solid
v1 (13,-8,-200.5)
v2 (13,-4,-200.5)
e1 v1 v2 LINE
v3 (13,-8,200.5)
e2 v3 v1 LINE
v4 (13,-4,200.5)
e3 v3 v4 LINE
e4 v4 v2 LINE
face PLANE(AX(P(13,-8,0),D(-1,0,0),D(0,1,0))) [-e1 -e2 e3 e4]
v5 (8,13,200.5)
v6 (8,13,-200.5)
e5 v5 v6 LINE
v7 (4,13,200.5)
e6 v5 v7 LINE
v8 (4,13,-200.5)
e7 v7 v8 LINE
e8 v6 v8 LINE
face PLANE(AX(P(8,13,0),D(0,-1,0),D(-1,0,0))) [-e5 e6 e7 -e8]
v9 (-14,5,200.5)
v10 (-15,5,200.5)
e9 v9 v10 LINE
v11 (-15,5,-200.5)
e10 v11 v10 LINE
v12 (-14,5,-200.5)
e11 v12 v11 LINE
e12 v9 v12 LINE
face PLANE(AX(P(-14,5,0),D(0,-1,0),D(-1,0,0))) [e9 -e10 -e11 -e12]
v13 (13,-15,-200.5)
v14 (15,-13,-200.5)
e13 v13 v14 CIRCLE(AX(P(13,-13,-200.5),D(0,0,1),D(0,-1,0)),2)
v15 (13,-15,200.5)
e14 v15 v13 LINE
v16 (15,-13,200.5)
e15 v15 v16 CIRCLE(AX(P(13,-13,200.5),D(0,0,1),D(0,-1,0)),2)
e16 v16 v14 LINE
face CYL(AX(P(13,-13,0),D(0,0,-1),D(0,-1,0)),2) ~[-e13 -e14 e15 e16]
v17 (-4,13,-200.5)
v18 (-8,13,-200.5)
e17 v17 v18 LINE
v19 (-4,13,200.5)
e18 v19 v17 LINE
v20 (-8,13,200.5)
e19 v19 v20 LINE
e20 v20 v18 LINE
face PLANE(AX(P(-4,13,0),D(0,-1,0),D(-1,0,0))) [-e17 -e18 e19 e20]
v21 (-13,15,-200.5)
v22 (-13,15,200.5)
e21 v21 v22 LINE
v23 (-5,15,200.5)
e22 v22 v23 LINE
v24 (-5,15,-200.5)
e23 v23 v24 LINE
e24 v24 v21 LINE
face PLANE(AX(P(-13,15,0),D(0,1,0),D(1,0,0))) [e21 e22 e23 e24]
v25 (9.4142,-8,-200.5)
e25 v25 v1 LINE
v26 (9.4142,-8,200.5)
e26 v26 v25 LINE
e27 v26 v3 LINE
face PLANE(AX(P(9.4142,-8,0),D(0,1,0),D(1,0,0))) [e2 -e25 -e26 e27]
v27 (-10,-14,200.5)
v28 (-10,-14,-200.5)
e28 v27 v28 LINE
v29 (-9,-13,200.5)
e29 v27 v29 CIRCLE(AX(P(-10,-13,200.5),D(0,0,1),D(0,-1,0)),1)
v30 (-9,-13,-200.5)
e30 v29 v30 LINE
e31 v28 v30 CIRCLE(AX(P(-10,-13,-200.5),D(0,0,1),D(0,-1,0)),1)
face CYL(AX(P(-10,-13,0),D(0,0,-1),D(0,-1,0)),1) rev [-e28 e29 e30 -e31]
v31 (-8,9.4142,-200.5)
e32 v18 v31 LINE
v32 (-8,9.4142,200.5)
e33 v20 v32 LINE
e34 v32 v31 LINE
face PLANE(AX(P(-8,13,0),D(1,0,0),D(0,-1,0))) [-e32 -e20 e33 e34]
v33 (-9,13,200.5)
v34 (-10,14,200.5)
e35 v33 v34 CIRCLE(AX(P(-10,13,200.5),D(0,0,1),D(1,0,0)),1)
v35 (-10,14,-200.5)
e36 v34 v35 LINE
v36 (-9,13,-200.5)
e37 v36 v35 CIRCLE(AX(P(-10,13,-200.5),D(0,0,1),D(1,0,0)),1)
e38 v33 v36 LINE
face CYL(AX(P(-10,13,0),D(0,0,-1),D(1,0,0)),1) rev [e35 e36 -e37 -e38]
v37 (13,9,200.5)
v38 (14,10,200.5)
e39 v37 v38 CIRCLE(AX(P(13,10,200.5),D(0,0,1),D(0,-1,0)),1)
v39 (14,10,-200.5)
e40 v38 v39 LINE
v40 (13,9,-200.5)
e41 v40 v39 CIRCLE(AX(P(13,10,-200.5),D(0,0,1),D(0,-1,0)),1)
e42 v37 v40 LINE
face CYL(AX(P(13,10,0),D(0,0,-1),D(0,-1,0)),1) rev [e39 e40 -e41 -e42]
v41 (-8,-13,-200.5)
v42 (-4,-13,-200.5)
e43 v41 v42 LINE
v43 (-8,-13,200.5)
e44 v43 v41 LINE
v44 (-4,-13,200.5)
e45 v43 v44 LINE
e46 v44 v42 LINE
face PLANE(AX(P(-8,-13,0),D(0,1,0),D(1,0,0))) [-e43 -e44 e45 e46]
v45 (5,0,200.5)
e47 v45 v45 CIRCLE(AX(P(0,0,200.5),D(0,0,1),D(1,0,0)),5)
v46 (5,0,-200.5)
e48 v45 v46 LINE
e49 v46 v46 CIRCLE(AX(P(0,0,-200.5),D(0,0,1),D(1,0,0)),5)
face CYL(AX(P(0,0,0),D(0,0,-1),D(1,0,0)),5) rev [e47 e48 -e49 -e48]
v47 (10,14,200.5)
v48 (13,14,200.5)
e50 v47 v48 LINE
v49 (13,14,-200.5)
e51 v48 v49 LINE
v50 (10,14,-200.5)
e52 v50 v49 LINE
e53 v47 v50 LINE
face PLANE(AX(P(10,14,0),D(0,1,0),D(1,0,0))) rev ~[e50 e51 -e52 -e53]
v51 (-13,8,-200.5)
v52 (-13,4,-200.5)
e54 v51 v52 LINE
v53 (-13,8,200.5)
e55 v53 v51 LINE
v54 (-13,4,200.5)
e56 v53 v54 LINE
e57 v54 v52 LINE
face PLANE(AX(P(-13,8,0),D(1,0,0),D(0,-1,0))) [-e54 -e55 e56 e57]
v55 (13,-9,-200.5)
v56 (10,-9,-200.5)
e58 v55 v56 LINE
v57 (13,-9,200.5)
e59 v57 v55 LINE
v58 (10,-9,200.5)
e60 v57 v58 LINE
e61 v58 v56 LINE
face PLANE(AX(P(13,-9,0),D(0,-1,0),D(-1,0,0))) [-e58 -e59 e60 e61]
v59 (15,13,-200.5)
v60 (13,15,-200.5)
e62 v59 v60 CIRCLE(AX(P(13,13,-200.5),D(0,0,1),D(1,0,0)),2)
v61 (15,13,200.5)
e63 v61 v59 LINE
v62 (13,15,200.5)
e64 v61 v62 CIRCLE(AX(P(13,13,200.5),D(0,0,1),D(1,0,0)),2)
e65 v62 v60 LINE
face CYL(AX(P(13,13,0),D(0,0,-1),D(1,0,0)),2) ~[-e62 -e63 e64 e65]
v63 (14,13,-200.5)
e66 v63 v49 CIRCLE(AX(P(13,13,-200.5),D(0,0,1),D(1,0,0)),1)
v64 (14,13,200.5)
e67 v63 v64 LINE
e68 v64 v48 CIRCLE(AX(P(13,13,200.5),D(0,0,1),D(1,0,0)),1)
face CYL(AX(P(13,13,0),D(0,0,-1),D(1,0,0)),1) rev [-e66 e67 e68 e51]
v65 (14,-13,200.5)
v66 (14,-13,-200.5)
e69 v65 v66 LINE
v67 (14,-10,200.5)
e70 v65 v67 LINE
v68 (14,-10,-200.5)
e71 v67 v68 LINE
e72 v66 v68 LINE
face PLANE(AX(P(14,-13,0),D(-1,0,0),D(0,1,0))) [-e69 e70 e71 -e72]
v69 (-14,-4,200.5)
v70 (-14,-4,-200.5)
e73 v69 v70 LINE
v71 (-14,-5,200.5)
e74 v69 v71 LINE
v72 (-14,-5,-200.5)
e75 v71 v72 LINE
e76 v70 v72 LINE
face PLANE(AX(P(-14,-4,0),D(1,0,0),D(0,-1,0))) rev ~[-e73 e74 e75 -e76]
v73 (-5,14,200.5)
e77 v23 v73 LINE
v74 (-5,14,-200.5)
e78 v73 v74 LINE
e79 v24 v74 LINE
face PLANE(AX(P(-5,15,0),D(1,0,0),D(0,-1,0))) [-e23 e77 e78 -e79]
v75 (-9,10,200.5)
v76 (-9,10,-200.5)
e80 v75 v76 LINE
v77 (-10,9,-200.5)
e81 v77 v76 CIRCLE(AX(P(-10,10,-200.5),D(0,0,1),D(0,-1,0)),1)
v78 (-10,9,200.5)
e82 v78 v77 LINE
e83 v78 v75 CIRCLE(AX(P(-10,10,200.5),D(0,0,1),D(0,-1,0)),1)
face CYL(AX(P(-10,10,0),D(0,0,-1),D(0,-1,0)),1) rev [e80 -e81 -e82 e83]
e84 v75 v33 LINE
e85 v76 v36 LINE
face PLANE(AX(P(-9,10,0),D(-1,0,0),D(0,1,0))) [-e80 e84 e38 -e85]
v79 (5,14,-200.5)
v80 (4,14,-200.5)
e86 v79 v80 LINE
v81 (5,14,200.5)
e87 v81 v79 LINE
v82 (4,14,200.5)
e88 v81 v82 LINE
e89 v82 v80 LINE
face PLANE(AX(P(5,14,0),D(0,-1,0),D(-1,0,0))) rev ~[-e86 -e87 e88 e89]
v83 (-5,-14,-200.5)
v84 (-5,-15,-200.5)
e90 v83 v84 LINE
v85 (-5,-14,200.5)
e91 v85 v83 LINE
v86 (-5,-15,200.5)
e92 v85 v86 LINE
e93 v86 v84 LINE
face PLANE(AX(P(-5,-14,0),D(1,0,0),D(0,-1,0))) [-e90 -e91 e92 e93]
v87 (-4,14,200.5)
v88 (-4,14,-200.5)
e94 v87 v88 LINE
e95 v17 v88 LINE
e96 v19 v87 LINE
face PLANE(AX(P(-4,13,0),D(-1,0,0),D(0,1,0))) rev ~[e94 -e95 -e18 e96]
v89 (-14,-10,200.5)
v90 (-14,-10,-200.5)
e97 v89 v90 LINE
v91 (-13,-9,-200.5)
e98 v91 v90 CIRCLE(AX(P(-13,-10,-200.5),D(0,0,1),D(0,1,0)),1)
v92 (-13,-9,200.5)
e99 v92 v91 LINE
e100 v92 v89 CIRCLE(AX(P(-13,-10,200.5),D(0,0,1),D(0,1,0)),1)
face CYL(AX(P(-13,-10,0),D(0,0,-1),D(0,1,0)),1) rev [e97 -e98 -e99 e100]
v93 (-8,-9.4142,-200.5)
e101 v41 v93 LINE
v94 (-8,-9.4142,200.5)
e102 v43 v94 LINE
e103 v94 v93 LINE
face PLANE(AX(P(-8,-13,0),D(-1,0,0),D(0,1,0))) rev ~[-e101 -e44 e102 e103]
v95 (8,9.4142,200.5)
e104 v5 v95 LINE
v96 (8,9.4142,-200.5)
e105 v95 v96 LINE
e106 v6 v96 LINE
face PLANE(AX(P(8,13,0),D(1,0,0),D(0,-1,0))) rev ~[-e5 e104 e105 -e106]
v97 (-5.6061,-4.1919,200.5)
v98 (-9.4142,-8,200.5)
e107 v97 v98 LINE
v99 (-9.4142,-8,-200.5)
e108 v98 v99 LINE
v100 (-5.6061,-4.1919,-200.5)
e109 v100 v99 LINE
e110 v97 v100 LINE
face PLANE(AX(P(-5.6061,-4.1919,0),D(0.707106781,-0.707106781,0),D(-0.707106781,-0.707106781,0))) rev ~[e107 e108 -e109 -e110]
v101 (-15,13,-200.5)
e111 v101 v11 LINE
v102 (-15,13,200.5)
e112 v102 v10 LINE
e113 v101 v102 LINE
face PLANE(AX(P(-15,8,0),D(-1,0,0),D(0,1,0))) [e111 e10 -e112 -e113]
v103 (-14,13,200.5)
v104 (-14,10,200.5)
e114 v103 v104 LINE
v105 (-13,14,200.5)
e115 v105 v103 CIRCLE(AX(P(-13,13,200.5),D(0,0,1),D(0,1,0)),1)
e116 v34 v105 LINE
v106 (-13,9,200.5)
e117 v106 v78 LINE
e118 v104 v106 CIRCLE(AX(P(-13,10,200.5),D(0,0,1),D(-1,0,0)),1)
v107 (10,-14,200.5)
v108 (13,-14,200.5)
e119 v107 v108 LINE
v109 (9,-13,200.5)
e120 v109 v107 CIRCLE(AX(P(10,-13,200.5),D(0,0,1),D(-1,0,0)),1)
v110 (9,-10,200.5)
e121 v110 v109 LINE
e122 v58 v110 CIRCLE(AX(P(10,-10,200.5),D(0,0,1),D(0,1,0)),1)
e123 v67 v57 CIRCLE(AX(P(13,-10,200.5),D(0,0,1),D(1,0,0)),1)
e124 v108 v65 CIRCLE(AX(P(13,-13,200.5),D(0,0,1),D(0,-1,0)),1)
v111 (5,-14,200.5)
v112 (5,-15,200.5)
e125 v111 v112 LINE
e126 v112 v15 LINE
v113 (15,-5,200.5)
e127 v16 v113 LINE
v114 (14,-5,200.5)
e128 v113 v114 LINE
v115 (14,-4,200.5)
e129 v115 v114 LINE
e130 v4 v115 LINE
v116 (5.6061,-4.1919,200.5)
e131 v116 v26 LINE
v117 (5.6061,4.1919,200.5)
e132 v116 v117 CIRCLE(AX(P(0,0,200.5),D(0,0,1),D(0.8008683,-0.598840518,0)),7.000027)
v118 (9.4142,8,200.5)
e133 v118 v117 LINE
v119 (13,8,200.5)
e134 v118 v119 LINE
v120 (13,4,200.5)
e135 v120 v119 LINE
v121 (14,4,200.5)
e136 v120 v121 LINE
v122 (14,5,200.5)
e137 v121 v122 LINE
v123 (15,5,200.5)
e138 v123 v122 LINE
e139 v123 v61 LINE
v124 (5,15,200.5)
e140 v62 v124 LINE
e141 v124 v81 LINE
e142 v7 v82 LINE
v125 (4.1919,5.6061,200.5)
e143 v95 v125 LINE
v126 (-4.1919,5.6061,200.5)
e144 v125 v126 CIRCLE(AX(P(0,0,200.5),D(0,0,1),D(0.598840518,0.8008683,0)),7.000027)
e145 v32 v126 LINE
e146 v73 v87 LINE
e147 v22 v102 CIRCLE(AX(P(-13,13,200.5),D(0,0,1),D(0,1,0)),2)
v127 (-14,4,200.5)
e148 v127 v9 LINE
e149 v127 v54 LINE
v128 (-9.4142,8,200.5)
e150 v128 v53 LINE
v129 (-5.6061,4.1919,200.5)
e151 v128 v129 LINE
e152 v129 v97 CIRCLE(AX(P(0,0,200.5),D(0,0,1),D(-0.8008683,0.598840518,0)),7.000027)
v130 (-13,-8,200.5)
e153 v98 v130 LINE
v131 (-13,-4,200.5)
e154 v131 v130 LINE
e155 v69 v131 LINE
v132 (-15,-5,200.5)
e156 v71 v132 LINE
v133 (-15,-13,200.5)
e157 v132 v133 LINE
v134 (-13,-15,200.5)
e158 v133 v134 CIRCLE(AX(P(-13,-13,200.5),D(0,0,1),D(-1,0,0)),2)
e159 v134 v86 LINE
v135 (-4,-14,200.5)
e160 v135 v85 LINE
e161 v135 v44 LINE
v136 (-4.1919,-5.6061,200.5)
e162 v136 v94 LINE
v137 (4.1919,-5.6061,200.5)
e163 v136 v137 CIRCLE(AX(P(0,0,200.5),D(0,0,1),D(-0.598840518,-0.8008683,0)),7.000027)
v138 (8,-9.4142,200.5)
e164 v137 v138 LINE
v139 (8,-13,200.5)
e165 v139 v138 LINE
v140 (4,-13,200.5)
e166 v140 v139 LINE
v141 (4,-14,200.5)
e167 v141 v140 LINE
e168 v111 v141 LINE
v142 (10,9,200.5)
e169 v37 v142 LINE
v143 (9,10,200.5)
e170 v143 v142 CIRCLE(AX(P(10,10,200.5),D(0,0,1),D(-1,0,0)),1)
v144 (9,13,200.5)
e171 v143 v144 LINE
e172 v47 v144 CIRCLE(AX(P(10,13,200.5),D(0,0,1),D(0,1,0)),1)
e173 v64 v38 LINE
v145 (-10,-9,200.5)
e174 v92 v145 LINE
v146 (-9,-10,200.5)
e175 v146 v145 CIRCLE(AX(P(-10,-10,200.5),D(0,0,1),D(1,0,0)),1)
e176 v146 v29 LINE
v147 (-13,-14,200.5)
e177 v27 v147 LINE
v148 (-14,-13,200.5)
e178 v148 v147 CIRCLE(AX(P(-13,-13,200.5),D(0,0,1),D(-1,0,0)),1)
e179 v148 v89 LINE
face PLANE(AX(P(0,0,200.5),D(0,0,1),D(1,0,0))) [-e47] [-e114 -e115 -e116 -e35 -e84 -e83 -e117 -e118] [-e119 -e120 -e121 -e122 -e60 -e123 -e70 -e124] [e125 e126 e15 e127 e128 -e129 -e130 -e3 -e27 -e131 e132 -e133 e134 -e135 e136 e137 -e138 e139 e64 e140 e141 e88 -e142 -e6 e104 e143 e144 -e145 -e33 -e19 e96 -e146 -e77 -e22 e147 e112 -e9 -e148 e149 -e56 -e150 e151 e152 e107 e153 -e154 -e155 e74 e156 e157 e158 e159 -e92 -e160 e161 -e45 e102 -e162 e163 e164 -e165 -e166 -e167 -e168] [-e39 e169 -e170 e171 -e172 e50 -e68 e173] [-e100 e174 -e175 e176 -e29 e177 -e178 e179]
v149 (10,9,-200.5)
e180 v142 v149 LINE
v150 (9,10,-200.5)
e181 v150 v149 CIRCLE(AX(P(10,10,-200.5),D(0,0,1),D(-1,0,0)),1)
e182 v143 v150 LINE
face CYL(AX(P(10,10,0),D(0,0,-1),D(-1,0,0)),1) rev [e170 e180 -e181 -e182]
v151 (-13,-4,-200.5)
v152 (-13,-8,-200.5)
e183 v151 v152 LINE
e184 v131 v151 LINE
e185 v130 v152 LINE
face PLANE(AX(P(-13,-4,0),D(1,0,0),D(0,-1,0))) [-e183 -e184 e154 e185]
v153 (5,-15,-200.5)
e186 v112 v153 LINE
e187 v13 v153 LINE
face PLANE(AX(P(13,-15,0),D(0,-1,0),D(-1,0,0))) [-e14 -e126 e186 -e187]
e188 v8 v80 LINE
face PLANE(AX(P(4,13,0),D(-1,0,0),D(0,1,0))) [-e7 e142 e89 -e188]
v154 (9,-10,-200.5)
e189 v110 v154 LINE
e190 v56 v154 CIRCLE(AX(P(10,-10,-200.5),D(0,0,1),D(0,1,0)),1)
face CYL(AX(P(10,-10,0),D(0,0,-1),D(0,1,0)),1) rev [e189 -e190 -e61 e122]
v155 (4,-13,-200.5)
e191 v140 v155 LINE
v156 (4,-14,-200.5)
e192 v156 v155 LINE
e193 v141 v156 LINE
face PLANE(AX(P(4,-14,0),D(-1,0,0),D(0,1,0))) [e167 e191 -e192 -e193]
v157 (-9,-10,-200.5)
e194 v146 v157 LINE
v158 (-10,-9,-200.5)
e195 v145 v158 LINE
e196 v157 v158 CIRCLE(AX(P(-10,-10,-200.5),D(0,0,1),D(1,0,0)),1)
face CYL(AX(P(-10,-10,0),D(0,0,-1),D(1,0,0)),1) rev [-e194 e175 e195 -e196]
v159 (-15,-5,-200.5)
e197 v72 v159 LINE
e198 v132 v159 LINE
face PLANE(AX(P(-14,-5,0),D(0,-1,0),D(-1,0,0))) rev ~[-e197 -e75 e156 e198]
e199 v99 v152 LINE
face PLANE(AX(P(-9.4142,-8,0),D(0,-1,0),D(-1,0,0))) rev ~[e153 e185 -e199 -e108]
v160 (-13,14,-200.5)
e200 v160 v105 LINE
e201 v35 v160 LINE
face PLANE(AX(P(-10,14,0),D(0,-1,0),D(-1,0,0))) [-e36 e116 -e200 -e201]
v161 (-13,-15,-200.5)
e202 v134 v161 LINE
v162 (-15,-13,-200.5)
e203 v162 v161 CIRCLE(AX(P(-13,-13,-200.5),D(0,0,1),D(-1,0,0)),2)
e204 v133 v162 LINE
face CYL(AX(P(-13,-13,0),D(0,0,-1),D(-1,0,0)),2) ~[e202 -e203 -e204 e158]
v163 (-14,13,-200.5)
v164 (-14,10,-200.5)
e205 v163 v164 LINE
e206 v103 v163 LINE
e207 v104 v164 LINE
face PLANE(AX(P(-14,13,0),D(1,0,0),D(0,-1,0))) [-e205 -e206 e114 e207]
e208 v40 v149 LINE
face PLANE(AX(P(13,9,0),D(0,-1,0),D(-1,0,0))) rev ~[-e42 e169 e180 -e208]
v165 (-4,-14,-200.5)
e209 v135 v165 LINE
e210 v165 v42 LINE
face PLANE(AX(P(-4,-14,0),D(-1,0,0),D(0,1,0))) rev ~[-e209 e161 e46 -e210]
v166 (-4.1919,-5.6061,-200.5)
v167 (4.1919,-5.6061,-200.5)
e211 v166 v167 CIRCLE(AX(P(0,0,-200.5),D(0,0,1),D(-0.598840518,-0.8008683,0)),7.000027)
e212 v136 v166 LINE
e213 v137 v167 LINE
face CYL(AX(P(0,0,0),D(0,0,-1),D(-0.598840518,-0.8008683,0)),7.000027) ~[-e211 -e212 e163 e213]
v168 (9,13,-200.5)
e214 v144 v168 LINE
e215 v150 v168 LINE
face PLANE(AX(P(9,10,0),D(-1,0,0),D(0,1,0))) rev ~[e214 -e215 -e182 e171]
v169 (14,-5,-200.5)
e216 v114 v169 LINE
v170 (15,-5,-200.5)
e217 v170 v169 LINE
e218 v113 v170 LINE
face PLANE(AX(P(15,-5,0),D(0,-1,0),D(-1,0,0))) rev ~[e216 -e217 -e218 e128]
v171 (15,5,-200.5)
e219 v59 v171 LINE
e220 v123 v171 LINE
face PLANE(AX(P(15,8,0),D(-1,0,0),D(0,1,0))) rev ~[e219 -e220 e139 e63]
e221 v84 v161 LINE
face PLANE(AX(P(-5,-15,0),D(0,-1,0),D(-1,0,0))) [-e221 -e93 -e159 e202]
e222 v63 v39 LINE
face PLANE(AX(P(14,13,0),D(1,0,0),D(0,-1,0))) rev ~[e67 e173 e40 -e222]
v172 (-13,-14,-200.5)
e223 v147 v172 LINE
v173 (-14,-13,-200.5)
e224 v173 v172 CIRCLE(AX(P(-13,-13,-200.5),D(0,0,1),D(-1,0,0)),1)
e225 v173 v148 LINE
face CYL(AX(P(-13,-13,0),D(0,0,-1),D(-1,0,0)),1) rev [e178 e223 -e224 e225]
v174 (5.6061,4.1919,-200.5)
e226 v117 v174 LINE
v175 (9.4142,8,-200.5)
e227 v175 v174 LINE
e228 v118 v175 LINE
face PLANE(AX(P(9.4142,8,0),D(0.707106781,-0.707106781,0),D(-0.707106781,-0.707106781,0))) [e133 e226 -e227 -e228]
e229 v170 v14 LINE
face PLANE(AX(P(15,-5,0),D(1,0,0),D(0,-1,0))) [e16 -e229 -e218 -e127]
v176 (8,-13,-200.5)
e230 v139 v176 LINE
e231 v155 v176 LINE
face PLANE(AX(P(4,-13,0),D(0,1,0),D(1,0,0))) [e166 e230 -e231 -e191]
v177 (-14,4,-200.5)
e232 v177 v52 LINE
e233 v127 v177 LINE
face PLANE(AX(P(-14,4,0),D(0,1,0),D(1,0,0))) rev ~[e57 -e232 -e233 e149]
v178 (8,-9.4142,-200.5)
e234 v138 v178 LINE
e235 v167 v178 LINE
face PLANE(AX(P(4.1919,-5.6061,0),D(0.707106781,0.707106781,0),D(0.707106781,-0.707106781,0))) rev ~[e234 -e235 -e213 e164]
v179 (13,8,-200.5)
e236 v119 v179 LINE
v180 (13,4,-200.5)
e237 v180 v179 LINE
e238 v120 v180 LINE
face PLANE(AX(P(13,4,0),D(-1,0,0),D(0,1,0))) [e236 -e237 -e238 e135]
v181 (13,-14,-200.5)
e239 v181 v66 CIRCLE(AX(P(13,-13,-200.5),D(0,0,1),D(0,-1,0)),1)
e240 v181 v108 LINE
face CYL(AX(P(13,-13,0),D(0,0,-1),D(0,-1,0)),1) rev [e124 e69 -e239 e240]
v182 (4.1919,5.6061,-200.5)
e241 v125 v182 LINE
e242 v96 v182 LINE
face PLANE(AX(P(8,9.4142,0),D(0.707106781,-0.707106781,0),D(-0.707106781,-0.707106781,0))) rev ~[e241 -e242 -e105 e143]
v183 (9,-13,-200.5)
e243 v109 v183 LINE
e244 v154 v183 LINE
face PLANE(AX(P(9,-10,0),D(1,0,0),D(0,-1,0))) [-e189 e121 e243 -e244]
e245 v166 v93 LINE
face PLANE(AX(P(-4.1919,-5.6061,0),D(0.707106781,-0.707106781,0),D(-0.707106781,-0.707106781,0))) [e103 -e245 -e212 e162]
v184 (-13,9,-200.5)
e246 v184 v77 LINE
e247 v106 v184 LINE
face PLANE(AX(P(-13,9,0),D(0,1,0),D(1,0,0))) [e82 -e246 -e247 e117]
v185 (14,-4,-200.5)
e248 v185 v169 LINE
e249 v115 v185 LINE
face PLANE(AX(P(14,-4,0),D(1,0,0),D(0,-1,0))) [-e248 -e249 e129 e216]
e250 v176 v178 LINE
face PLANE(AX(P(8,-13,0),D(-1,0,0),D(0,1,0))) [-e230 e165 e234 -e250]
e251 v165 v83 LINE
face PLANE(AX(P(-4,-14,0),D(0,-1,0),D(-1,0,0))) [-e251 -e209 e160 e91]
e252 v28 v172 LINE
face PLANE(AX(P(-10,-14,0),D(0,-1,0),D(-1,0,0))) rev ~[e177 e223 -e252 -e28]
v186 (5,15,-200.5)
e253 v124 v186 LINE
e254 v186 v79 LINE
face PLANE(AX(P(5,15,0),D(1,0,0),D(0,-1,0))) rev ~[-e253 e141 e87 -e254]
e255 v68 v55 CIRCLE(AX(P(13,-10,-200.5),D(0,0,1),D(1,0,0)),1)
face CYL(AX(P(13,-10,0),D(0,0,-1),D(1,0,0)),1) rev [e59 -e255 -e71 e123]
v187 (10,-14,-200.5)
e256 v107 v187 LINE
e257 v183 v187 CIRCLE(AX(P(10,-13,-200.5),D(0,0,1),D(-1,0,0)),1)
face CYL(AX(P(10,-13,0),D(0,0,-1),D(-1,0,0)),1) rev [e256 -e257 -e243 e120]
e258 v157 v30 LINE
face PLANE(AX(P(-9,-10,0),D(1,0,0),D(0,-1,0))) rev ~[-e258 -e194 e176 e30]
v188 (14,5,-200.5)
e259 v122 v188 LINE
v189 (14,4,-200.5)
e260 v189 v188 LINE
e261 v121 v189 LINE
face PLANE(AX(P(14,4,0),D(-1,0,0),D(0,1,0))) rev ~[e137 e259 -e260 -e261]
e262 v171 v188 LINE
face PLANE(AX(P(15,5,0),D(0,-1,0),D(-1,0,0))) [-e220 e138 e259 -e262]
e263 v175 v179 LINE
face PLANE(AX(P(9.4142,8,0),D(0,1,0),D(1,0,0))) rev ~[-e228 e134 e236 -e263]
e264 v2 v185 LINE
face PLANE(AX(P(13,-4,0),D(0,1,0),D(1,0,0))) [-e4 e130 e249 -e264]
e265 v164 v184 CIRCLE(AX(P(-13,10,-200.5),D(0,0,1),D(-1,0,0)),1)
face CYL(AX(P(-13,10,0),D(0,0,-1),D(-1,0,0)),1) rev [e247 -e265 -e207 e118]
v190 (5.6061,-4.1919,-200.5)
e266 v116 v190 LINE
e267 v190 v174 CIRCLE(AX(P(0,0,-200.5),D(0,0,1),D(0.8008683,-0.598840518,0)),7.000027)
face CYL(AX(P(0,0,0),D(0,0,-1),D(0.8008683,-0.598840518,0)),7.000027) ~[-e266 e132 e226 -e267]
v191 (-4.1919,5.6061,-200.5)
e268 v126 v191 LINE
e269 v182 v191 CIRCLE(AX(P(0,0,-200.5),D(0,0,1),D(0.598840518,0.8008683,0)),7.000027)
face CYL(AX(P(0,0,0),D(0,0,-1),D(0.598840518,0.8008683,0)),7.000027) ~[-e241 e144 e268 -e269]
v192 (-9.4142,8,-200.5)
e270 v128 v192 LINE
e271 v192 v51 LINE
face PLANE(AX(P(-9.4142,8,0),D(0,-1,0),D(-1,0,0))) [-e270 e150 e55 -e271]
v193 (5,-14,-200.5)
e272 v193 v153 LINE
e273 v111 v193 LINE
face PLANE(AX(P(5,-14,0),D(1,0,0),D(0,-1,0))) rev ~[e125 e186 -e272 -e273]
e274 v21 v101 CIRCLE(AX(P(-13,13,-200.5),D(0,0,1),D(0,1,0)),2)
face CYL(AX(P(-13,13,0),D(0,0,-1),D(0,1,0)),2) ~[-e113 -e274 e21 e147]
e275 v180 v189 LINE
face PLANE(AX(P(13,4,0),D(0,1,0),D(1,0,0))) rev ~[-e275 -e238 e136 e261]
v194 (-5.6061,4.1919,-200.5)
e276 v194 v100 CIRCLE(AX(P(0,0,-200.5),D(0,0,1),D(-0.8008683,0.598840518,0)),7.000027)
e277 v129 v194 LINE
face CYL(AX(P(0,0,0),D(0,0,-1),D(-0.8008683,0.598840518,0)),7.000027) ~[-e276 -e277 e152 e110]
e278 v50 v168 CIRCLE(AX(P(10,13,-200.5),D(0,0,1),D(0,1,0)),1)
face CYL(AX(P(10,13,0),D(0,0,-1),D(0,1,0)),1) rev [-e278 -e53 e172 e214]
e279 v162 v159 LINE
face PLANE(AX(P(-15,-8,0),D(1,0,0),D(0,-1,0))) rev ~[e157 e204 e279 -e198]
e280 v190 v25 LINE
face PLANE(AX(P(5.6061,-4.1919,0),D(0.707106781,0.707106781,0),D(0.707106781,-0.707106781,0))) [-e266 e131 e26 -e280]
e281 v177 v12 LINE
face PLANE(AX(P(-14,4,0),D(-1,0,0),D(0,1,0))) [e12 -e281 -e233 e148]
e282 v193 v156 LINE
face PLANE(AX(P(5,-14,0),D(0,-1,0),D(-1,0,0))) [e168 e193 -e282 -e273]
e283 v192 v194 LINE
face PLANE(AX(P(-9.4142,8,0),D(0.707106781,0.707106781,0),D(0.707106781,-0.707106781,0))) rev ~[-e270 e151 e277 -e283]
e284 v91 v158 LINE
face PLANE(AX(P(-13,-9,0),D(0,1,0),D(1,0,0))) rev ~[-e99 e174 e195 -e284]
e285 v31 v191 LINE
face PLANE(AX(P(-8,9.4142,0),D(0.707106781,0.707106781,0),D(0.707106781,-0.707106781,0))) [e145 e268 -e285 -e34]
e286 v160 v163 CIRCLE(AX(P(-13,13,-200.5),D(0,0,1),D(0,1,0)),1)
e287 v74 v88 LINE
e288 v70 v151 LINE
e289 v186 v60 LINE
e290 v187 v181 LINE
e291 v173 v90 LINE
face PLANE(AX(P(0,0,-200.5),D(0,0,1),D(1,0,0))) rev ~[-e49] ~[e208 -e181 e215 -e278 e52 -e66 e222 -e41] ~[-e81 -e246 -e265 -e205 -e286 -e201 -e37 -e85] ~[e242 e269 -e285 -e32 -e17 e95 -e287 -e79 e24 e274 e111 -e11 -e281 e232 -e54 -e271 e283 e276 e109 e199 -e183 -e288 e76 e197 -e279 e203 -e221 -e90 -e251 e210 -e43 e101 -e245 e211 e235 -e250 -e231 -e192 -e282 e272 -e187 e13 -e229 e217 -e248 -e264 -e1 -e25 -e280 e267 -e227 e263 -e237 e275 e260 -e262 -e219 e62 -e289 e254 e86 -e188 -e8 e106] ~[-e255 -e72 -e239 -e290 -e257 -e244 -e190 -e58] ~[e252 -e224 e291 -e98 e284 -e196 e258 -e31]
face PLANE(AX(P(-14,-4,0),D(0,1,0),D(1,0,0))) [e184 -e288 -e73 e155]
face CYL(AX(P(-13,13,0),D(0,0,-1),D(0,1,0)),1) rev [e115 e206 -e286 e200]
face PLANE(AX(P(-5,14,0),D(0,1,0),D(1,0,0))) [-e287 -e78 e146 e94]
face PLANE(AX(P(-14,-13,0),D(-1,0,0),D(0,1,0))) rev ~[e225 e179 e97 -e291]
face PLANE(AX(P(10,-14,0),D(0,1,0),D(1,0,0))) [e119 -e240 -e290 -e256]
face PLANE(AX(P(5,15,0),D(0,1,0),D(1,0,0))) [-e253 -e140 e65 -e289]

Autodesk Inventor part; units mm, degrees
ref_plane "YZ Plane" through (0, 0, 0) normal (1, 0, 0) x (0, 1, 0)
ref_plane "XZ Plane" through (0, 0, 0) normal (0, 1, 0) x (-1, 0, 0)
ref_plane "XY Plane" through (0, 0, 0) normal (0, 0, 1) x (1, 0, 0)
sketch "Sketch1" plane through (0, 0, 0) normal (0, 0, 1) x (1, 0, 0)
  circle A0 centre (0, 0) radius 5
  arc A1 (-13, 15) -> (-15, 13) centre (-13, 13) ccw
  arc A2 (-15, -13) -> (-13, -15) centre (-13, -13) ccw
  arc A3 (13, -15) -> (15, -13) centre (13, -13) ccw
  arc A4 (15, 13) -> (13, 15) centre (13, 13) ccw
  arc A5 (-13, 14) -> (-14, 13) centre (-13, 13) ccw
  arc A6 (-14, -13) -> (-13, -14) centre (-13, -13) ccw
  arc A7 (13, -14) -> (14, -13) centre (13, -13) ccw
  arc A8 (14, 13) -> (13, 14) centre (13, 13) ccw
  line L0 (14, -14) -> (-14, 14) construction
  line L1 (-14, -14) -> (14, 14) construction
  line L2 (15, -15) -> (-15, 15) construction
  line L3 (-15, -15) -> (15, 15) construction
  line L4 (-13, 15) -> (-8, 15)
  line L5 (-8, 13) -> (-8, 8) construction
  line L6 (-9.4142, 8) -> (-13, 8)
  line L7 (-15, 8) -> (-15, 13)
  line L8 (-13, -15) -> (-8, -15)
  line L9 (-8, -13) -> (-8, -9.4142)
  line L10 (-9.4142, -8) -> (-13, -8)
  line L11 (-15, -8) -> (-15, -13)
  line L12 (13, -15) -> (8, -15)
  line L13 (8, -13) -> (8, -9.4142)
  line L14 (9.4142, -8) -> (13, -8)
  line L15 (15, -8) -> (15, -13)
  line L16 (13, 15) -> (8, 15)
  line L17 (8, 13) -> (8, 9.4142)
  line L18 (9.4142, 8) -> (13, 8)
  line L19 (15, 8) -> (15, 13)
  line L20 (-13, 9) -> (-10, 9)
  line L21 (-9, 10) -> (-9, 13)
  line L22 (-10, 14) -> (-13, 14)
  line L23 (-14, 13) -> (-14, 10)
  line L24 (13, 9) -> (10, 9)
  line L25 (9, 10) -> (9, 13)
  line L26 (10, 14) -> (13, 14)
  line L27 (14, 13) -> (14, 10)
  line L28 (13, -9) -> (10, -9)
  line L29 (9, -10) -> (9, -13)
  line L30 (10, -14) -> (13, -14)
  line L31 (14, -13) -> (14, -10)
  line L32 (-13, -9) -> (-10, -9)
  line L33 (-9, -10) -> (-9, -13)
  line L34 (-10, -14) -> (-13, -14)
  line L35 (-14, -13) -> (-14, -10)
  line L36 (-14, 13) -> (-14, 10)
  line L37 (-14, -10) -> (-14, -13)
  line L38 (-14, -13) -> (-14, -10)
  line L39 (-14, 10) -> (-14, 13)
  line L40 (13, -15) -> (5, -15)
  line L41 (-5, -15) -> (-13, -15)
  line L42 (13, -15) -> (5, -15) construction
  line L43 (0, -15) -> (-13, -15) construction
  line L44 (4, -13) -> (8, -13)
  line L45 (-8, -13) -> (-4, -13)
  line L46 (10, -9) -> (13, -9)
  line L47 (14, -10) -> (14, -13)
  line L48 (13, -14) -> (10, -14)
  line L49 (9, -13) -> (9, -10)
  line L50 (5, -14) -> (5, -15)
  line L51 (13, -14) -> (10, -14)
  line L52 (5, -14) -> (4, -14)
  line L53 (4, -14) -> (5, -14)
  line L54 (10, -14) -> (13, -14)
  line L55 (-4, -14) -> (-5, -14)
  line L56 (-10, -14) -> (-13, -14)
  line L57 (-13, -14) -> (-10, -14)
  line L58 (-5, -14) -> (-4, -14)
  line L59 (14, -13) -> (14, -10)
  line L60 (14, 10) -> (14, 13)
  line L61 (14, 13) -> (14, 10)
  line L62 (14, -10) -> (14, -13)
  line L63 (-5, -14) -> (-5, -15)
  line L64 (10, 14) -> (13, 14)
  line L65 (13, 14) -> (10, 14)
  line L66 (-10, 14) -> (-13, 14)
  line L67 (-13, 14) -> (-10, 14)
  line L68 (-5, 15) -> (-5, 14)
  line L69 (-13, 15) -> (-5, 15)
  line L70 (5, 15) -> (13, 15)
  line L71 (-15, 15) -> (-5, 15) construction
  line L72 (5, 15) -> (15, 15) construction
  line L73 (5, 15) -> (5, 14)
  line L74 (8, 13) -> (4, 13)
  line L75 (5, 14) -> (4, 14)
  line L76 (-5, 14) -> (-4, 14)
  line L77 (4, 14) -> (5, 14)
  line L78 (-4, 13) -> (-8, 13)
  line L79 (-4, 14) -> (-5, 14)
  line L80 (4, 13) -> (4, 14)
  line L81 (-4, 13) -> (-4, 14)
  line L82 (-4, -14) -> (-4, -13)
  line L83 (4, -14) -> (4, -13)
  line L84 (-8, 9.4142) -> (-4.1919, 5.6061)
  line L85 (8, 9.4142) -> (4.1919, 5.6061)
  line L86 (9.4142, 8) -> (5.6061, 4.1919)
  line L87 (5.6061, -4.1919) -> (9.4142, -8)
  line L88 (4.1919, -5.6061) -> (8, -9.4142)
  line L89 (-4.1919, -5.6061) -> (-8, -9.4142)
  line L90 (-5.6061, -4.1919) -> (-9.4142, -8)
  line L91 (-9.4142, 8) -> (-5.6061, 4.1919)
  arc A9 (4.1919, 5.6061) -> (-4.1919, 5.6061) centre (0, 0) ccw
  arc A10 (5.6061, -4.1919) -> (5.6061, 4.1919) centre (0, 0) ccw
  arc A11 (-5.6061, 4.1919) -> (-5.6061, -4.1919) centre (0, 0) ccw
  arc A12 (-4.1919, -5.6061) -> (4.1919, -5.6061) centre (0, 0) ccw
  line L92 (-8, 13) -> (-8, 9.4142)
  line L93 (-15, -13) -> (-15, -5) construction
  line L94 (-15, -13) -> (-15, -5)
  line L95 (-15, 5) -> (-15, 13)
  line L96 (15, -5) -> (15, -13) construction
  line L97 (15, 13) -> (15, 5)
  line L98 (15, -5) -> (15, -13)
  line L99 (-14, -4) -> (-14, -5)
  line L100 (14, -4) -> (14, -5)
  line L101 (14, 4) -> (14, 5)
  line L102 (-14, 4) -> (-14, 5)
  line L103 (-13, 8) -> (-13, 4)
  line L104 (13, 4) -> (13, 8)
  line L105 (13, -8) -> (13, -4)
  line L106 (-13, -4) -> (-13, -8)
  line L107 (-14, -5) -> (-15, -5)
  line L108 (15, -5) -> (14, -5)
  line L109 (15, 5) -> (14, 5)
  line L110 (-14, 5) -> (-15, 5)
  line L111 (13, 4) -> (14, 4)
  line L112 (-14, 4) -> (-13, 4)
  line L113 (-14, -4) -> (-13, -4)
  line L114 (13, -4) -> (14, -4)
  arc A13 (-13, -9) -> (-14, -10) centre (-13, -10) ccw
  arc A14 (-9, -10) -> (-10, -9) centre (-10, -10) ccw
  arc A15 (-10, -14) -> (-9, -13) centre (-10, -13) ccw
  arc A16 (10, -9) -> (9, -10) centre (10, -10) ccw
  arc A17 (9, -13) -> (10, -14) centre (10, -13) ccw
  arc A18 (14, -10) -> (13, -9) centre (13, -10) ccw
  arc A19 (10, 14) -> (9, 13) centre (10, 13) ccw
  arc A20 (9, 10) -> (10, 9) centre (10, 10) ccw
  arc A21 (13, 9) -> (14, 10) centre (13, 10) ccw
  arc A22 (-9, 13) -> (-10, 14) centre (-10, 13) ccw
  arc A23 (-10, 9) -> (-9, 10) centre (-10, 10) ccw
  arc A24 (-14, 10) -> (-13, 9) centre (-13, 10) ccw
  point P0 (15, -15)
  point P1 (-5.5858, -7)
  dimension "d0" = 30
  dimension "d1" = 30
  dimension "d2" = 10
  dimension "d4" = 2
  dimension "d11" = 28
  dimension "d12" = 7
  dimension "d13" = 7
  dimension "d15" = 1
  dimension "d16" = 1
  dimension "d17" = 1
  dimension "d18" = 1
  dimension "d19" = 5
  dimension "d23" = 30
  dimension "d27" = 1
  dimension "d30" = 3.5858
  dimension "d31" = 2
  dimension "d32" = 16
  dimension "d33" = 8
  dimension "d34" = 6
  dimension "d35" = 5.5858
extrude "Extrusion1" add sketch "Sketch1" along normal mid plane 401
equation "\"d1\" = d0"
properties part number "trail_support" material "Aluminum 6061"
